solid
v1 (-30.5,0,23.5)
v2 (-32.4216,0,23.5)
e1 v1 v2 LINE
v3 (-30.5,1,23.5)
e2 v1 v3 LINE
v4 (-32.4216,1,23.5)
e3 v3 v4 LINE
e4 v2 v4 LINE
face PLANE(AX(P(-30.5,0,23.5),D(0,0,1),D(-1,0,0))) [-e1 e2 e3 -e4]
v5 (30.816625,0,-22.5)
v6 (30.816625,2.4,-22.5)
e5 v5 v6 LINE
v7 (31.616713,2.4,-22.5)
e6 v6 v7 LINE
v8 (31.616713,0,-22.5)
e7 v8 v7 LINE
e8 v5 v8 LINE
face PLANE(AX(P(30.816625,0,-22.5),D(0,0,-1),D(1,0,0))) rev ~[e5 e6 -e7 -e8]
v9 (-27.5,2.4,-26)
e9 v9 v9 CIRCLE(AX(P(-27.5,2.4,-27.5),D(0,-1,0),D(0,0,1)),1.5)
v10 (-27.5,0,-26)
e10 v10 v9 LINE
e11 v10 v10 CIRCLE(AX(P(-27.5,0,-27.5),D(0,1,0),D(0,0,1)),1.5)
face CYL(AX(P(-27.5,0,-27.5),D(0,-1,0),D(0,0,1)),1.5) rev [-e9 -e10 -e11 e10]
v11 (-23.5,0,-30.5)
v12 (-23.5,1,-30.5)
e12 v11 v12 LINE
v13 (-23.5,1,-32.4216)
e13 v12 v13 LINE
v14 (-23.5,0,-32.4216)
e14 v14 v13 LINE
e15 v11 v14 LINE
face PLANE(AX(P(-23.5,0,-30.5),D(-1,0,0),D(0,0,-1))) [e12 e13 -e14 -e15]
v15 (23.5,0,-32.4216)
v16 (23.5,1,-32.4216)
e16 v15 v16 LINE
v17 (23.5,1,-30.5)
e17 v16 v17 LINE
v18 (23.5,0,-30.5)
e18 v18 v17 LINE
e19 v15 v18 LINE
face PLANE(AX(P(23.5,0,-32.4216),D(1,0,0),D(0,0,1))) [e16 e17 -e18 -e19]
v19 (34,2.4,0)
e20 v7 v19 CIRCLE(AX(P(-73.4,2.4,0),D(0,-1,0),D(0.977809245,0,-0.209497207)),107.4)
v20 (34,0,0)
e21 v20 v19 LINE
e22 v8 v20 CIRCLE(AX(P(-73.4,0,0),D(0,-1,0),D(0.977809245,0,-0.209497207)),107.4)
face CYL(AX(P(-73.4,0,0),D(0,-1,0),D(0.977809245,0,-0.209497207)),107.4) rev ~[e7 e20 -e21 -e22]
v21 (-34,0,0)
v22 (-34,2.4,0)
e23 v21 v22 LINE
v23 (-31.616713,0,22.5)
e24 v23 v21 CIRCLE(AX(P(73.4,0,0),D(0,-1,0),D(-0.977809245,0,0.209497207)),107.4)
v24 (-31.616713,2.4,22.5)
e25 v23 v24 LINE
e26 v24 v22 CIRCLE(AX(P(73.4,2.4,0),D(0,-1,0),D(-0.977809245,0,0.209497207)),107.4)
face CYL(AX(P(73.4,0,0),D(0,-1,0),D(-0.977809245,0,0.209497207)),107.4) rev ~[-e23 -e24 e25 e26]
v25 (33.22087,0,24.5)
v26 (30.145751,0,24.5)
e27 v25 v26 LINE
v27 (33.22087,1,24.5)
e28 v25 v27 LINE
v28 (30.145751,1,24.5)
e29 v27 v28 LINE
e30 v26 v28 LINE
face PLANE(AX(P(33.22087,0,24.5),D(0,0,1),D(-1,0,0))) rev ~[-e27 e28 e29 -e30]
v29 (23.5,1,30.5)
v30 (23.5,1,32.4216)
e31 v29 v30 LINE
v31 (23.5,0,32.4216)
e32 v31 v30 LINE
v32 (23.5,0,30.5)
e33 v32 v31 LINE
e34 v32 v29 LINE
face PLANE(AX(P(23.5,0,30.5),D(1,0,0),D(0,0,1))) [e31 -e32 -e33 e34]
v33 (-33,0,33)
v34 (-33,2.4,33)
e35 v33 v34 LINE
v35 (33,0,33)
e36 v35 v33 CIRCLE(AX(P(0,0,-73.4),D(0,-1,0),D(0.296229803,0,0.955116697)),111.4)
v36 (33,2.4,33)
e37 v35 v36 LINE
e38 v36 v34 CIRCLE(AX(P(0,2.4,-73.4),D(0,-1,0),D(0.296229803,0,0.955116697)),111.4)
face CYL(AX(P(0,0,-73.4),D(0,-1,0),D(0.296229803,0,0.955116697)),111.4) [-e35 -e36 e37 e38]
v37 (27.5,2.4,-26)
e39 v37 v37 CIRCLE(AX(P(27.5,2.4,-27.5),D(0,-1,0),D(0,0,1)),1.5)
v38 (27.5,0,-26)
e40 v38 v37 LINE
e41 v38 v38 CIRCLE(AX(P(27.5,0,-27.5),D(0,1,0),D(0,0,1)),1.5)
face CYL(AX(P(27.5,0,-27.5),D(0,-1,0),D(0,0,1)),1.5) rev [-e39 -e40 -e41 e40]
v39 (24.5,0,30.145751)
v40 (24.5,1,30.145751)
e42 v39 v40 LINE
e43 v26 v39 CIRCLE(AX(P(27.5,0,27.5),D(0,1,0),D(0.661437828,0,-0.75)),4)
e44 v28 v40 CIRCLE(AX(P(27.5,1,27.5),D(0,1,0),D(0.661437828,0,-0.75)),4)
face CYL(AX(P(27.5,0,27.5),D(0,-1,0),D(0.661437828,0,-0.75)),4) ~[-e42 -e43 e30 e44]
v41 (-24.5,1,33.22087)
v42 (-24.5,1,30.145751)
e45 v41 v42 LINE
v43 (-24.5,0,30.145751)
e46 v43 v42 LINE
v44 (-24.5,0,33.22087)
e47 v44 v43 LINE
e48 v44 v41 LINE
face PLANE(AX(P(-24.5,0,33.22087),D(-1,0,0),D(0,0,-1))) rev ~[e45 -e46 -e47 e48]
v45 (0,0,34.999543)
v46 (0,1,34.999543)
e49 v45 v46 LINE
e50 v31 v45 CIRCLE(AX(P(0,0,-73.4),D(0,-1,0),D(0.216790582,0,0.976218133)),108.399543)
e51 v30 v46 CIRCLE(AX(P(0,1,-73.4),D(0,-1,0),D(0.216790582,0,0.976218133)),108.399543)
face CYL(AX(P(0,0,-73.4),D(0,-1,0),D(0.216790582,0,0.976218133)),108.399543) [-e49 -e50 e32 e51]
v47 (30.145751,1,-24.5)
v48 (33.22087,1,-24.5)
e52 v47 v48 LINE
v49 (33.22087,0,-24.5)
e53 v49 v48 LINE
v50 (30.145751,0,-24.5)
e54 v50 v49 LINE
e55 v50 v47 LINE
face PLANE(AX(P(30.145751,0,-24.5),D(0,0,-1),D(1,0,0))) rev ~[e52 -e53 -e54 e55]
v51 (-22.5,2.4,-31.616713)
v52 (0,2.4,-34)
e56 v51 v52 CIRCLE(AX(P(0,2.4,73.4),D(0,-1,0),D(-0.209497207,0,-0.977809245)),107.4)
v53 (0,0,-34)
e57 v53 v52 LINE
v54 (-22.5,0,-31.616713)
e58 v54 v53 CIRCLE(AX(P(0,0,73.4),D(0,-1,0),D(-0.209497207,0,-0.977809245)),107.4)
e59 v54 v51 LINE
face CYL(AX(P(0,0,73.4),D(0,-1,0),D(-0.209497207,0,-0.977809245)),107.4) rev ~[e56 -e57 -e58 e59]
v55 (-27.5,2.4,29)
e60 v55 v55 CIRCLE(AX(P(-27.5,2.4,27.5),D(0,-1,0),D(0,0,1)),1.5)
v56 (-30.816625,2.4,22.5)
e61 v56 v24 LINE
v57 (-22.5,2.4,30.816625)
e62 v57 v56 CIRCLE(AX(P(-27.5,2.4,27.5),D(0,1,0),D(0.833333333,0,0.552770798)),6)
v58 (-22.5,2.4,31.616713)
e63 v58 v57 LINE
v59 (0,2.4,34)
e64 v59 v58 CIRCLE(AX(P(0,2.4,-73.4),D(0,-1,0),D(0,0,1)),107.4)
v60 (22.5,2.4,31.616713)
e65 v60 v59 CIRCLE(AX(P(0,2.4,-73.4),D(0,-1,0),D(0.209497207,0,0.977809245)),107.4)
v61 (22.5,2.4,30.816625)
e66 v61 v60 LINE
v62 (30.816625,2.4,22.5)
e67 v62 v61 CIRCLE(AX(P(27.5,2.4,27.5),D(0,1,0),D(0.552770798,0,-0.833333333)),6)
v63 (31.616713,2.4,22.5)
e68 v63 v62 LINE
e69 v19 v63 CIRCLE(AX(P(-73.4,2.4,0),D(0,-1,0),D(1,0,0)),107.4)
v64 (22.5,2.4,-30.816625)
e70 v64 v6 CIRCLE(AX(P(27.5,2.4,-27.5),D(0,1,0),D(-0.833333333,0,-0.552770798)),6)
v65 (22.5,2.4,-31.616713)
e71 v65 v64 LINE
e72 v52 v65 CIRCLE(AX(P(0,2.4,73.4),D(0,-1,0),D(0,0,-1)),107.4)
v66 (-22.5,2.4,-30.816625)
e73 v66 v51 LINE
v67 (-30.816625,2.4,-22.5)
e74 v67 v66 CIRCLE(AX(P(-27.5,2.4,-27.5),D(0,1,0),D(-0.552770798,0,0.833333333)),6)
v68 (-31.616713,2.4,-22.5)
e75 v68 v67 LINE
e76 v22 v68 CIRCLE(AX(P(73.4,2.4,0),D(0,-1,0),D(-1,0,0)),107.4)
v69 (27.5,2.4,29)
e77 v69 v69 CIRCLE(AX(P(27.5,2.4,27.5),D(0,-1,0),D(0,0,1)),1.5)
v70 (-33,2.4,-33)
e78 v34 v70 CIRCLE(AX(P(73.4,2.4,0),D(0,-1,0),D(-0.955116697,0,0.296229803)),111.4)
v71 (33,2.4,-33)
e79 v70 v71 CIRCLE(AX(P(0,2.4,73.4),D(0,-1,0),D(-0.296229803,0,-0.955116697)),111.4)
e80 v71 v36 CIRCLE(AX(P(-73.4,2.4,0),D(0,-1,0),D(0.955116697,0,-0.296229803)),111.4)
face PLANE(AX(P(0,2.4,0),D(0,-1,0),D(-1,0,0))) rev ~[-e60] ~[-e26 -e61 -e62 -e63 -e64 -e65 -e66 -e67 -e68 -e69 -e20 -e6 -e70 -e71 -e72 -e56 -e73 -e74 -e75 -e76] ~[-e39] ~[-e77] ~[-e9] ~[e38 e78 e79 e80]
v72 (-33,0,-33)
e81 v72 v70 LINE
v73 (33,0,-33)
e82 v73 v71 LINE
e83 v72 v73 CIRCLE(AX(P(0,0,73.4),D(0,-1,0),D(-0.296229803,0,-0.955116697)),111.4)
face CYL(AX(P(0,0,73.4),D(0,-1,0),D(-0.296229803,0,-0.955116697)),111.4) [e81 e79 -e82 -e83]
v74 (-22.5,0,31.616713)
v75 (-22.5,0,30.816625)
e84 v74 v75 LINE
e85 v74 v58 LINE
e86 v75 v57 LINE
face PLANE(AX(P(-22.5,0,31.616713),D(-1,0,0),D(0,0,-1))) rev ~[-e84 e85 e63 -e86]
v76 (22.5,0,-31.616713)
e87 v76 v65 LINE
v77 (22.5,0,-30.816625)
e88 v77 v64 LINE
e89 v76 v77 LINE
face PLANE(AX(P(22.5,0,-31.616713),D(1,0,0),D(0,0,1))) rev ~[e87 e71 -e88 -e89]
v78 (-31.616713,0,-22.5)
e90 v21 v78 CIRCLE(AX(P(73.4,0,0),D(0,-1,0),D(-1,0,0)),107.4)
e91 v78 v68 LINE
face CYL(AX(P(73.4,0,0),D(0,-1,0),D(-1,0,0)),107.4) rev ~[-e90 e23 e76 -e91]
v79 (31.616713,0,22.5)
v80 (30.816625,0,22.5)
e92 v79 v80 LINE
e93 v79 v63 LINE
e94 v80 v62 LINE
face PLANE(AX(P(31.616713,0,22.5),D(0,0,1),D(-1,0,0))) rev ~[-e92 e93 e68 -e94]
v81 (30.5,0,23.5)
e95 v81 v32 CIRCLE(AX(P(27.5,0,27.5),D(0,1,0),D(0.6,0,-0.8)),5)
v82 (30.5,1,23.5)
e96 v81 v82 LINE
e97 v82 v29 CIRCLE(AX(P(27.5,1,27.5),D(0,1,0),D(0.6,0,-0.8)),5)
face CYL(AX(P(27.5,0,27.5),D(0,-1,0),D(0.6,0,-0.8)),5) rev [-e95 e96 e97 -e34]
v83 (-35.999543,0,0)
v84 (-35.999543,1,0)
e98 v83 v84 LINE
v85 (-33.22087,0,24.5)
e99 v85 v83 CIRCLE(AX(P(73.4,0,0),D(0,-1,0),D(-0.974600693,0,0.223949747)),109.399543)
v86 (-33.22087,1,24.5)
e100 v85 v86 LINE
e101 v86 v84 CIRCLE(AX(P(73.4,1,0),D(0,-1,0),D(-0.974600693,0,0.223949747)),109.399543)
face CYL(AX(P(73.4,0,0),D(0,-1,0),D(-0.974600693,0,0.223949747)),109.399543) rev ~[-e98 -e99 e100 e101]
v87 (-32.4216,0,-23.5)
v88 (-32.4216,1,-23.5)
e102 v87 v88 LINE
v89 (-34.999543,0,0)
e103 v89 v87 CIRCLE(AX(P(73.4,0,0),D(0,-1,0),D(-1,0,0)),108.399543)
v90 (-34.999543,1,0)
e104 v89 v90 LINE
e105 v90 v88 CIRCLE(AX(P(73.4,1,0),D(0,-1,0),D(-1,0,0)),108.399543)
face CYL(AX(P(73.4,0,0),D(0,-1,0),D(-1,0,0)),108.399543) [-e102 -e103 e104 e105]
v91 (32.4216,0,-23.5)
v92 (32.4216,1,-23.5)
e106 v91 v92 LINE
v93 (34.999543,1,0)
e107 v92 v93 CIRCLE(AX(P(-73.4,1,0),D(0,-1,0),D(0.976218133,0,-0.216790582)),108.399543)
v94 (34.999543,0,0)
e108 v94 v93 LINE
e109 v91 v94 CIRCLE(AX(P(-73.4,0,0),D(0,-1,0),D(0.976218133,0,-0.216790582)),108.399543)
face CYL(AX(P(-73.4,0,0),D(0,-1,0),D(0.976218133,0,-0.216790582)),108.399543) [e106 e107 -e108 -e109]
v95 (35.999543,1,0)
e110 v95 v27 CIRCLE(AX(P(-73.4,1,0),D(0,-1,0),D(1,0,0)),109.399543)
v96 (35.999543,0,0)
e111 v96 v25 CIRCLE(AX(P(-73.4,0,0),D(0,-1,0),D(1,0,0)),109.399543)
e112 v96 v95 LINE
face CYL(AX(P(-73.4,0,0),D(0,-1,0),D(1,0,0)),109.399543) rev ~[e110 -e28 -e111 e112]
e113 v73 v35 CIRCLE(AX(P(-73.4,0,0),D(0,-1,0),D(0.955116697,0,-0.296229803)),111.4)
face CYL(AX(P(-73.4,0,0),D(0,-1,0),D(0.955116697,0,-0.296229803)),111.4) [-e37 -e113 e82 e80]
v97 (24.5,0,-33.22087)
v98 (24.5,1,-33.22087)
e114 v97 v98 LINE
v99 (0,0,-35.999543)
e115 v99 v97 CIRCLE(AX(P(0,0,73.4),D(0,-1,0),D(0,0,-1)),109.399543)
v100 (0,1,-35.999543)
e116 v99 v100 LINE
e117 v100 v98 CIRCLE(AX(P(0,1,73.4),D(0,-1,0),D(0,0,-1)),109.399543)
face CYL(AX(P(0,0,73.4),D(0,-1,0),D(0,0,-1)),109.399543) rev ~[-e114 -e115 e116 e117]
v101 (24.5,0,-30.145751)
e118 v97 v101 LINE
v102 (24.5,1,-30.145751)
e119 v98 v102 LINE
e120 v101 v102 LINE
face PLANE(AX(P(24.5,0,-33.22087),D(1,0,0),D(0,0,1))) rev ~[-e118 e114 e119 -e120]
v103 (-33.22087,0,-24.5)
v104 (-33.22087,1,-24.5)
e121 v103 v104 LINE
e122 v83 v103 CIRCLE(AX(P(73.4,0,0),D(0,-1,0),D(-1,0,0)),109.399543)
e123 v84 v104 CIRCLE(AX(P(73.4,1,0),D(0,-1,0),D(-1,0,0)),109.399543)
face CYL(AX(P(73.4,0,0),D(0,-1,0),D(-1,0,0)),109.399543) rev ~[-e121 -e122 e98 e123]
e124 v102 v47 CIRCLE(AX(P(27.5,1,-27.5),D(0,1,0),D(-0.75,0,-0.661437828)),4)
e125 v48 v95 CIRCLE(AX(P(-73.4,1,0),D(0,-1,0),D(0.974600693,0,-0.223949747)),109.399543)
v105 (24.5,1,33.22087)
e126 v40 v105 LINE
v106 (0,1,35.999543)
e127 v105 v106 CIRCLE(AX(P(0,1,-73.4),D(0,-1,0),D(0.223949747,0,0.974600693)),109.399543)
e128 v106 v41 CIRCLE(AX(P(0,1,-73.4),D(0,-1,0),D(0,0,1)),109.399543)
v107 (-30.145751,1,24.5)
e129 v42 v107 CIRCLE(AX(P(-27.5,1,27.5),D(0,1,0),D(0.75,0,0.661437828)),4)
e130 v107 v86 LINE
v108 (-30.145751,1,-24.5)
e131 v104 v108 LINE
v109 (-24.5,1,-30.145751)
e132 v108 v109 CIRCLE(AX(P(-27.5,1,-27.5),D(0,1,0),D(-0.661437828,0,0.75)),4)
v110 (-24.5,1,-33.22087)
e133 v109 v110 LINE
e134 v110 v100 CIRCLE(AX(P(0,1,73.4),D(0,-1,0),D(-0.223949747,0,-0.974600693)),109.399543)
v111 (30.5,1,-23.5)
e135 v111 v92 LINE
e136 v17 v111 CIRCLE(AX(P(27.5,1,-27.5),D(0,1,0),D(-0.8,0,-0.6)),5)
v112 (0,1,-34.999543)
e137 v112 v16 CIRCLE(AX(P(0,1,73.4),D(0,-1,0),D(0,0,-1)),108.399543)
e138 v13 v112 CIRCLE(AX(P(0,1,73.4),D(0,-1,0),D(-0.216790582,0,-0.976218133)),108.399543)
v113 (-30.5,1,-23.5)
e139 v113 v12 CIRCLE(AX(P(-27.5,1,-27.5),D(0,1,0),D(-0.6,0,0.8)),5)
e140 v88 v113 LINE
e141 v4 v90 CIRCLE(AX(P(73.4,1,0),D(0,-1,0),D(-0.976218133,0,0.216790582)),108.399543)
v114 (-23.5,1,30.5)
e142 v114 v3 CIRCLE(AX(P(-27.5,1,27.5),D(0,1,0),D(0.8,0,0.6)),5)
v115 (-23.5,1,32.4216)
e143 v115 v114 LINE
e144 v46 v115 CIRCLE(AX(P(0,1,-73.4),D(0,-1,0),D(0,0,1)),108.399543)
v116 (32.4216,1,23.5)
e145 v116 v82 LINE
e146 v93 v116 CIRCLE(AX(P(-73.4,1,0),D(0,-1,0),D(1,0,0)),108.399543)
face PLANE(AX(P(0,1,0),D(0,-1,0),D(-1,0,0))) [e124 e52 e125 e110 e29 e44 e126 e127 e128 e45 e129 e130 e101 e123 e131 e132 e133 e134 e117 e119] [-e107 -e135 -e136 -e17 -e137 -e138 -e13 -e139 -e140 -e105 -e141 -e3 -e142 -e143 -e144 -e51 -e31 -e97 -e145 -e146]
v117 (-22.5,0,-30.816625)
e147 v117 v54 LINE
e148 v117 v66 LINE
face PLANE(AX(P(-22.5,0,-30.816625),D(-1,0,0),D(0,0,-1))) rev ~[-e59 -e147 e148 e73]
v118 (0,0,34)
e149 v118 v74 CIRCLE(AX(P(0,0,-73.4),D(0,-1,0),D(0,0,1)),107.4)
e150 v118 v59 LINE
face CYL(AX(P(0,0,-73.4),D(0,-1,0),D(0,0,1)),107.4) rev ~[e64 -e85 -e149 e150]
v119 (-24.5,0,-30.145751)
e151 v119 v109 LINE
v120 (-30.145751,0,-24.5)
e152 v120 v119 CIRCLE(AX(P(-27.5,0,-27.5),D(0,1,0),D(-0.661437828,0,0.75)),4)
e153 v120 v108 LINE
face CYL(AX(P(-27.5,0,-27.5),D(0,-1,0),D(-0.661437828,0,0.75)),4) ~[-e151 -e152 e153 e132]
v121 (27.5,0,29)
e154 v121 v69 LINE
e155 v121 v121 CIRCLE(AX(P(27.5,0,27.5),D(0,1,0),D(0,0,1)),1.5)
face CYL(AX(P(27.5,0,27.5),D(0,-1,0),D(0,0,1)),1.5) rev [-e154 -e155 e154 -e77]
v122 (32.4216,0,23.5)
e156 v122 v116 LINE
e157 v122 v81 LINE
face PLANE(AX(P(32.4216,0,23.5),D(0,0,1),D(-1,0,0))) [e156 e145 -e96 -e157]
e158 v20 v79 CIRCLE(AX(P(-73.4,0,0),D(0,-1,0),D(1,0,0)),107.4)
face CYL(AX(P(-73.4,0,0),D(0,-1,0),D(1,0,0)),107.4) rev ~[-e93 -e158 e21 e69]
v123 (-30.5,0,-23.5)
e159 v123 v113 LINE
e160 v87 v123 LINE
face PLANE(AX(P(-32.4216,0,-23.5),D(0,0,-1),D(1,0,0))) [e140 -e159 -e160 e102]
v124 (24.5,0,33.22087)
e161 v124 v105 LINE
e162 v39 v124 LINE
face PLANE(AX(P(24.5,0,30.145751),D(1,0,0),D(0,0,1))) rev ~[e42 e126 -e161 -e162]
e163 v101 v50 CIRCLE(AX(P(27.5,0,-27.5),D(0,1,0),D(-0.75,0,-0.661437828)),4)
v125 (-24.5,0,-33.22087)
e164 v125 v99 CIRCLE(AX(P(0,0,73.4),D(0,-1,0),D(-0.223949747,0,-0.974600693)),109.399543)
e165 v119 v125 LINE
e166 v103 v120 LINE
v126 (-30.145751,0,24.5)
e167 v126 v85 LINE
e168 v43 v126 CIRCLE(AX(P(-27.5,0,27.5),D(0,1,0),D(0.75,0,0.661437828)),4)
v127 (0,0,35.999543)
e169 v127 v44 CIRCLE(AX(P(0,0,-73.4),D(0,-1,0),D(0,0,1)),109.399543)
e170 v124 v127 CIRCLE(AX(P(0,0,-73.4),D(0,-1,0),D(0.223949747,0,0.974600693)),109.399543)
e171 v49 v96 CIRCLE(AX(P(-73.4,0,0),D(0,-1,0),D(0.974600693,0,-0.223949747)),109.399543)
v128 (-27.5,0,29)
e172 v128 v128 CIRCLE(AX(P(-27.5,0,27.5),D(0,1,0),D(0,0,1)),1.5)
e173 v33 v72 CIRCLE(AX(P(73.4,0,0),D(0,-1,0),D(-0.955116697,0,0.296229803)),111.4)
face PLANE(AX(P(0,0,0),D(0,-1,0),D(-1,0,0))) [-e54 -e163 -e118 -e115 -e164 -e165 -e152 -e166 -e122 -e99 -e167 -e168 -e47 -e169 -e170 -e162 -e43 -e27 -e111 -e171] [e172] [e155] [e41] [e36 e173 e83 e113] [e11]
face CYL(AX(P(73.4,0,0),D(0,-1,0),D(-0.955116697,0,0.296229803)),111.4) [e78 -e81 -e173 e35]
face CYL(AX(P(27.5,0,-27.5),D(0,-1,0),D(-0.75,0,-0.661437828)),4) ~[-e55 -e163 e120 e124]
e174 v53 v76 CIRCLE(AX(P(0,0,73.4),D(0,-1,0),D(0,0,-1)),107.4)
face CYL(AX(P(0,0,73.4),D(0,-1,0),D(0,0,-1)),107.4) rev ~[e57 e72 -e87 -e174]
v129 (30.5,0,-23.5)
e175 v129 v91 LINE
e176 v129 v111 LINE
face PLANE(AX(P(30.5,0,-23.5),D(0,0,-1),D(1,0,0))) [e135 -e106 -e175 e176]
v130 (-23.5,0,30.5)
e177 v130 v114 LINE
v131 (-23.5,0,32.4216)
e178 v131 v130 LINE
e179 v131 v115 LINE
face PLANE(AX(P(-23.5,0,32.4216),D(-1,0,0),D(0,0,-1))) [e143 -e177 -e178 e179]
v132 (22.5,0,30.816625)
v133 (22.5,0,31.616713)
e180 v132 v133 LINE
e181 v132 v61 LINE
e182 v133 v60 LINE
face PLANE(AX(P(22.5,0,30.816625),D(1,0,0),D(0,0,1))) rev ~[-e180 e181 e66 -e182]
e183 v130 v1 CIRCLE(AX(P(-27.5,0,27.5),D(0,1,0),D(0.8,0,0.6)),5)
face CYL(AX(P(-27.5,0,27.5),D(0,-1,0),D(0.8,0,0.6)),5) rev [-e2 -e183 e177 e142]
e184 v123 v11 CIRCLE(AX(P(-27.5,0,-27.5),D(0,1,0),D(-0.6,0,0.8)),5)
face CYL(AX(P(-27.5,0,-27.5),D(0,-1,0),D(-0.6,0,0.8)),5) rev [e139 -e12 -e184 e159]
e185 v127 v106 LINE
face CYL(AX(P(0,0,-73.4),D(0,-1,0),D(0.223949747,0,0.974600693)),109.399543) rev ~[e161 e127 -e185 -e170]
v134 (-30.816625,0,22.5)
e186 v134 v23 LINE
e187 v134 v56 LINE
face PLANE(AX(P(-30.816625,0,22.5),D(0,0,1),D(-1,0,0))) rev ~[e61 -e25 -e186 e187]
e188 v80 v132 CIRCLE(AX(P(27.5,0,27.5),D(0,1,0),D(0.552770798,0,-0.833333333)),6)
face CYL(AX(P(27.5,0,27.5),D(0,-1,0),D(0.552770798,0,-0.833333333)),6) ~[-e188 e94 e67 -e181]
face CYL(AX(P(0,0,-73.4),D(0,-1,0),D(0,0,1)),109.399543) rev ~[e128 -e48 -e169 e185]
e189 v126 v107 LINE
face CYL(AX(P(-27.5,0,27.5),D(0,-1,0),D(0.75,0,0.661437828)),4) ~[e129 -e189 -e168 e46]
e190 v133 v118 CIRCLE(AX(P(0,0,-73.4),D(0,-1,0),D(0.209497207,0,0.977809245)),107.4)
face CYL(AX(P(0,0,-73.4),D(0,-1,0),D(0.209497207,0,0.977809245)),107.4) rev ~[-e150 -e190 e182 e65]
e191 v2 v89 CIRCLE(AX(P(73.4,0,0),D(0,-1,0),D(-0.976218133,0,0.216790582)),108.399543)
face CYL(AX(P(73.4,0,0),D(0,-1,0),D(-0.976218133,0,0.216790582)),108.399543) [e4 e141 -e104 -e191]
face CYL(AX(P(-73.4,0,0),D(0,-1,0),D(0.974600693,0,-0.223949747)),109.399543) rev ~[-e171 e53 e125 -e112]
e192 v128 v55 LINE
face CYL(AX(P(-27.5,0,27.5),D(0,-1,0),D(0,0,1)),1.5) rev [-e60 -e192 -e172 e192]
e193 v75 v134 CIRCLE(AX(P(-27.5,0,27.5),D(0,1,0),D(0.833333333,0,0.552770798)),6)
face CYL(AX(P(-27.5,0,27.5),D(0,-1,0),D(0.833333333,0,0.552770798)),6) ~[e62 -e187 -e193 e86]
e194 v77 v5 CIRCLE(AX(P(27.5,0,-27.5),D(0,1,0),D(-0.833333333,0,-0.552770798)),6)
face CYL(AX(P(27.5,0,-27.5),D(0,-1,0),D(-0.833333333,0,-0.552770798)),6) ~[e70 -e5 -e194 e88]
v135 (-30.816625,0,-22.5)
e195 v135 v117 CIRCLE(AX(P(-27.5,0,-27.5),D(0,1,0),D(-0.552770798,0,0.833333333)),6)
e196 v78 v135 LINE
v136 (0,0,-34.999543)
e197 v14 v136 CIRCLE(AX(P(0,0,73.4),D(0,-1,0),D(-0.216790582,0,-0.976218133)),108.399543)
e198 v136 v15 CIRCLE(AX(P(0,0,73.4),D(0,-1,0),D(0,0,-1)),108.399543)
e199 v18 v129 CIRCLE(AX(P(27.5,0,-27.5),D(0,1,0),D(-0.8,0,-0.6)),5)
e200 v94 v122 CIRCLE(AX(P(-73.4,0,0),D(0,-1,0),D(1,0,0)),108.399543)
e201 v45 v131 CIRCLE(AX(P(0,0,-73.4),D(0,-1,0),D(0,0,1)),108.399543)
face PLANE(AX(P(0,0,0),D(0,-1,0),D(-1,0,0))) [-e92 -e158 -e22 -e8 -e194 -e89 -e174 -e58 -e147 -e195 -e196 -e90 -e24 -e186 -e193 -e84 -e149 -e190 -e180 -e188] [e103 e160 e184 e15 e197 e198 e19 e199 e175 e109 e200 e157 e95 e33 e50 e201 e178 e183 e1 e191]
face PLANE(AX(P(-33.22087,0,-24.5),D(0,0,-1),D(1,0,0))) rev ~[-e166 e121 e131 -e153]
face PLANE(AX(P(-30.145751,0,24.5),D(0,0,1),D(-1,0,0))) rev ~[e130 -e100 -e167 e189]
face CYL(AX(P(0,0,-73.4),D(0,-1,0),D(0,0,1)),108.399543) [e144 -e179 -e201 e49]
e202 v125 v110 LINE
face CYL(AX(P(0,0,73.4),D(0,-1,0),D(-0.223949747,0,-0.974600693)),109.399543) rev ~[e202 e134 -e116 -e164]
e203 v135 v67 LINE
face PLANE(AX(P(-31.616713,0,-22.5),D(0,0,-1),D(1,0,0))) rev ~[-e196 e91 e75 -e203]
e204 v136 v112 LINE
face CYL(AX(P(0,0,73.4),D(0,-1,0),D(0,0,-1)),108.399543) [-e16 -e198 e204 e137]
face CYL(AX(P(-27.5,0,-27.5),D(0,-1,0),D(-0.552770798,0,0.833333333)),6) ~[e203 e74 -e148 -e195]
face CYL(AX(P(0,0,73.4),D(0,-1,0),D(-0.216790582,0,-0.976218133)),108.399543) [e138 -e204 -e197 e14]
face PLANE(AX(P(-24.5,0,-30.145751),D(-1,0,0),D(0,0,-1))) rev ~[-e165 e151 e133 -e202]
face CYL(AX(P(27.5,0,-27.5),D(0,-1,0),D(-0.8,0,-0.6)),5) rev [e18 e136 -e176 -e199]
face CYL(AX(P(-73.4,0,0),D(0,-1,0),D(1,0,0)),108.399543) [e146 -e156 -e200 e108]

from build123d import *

# Parameters (mm, degrees)
EXTRUDE_1_DEPTH     = 2.4
CUT_EXTRUDE_2_DEPTH = 1
SKETCH_3_R          = 1.5
CUT_EXTRUDE_3_DEPTH = 54.793679926


with BuildPart() as part:
    # 스케치1 → 보스-돌출1 (new body)
    with BuildSketch(Plane(origin=(0, 0, 0), x_dir=(1, 0, 0), z_dir=(0, 1, 0))):
        with BuildLine():
            ThreePointArc((33, -33), (0, -38), (-33, -33))
            ThreePointArc((-33, -33), (-38, 0), (-33, 33))
            ThreePointArc((-33, 33), (0, 38), (33, 33))
            ThreePointArc((33, 33), (38, 0), (33, -33))
        make_face()
        with BuildLine():
            Line((-22.5, 30.81662479), (-22.5, 31.616712956))
            ThreePointArc((-22.5, 31.616712956), (-11.312935706, 33.402516289), (0, 34))
            ThreePointArc((0, 34), (11.312935706, 33.402516289), (22.5, 31.616712956))
            Line((22.5, 31.616712956), (22.5, 30.81662479))
            ThreePointArc((22.5, 30.81662479), (23.257359313, 23.257359313), (30.81662479, 22.5))
            Line((30.81662479, 22.5), (31.616712956, 22.5))
            ThreePointArc((31.616712956, 22.5), (33.402516289, 11.312935706), (34, 0))
            ThreePointArc((34, 0), (33.402516289, -11.312935706), (31.616712956, -22.5))
            Line((31.616712956, -22.5), (30.81662479, -22.5))
            ThreePointArc((30.81662479, -22.5), (23.257359313, -23.257359313), (22.5, -30.81662479))
            Line((22.5, -30.81662479), (22.5, -31.616712956))
            ThreePointArc((22.5, -31.616712956), (11.312935706, -33.402516289), (0, -34))
            ThreePointArc((0, -34), (-11.312935706, -33.402516289), (-22.5, -31.616712956))
            Line((-22.5, -31.616712956), (-22.5, -30.81662479))
            ThreePointArc((-22.5, -30.81662479), (-23.257359313, -23.257359313), (-30.81662479, -22.5))
            Line((-30.81662479, -22.5), (-31.616712956, -22.5))
            ThreePointArc((-31.616712956, -22.5), (-33.402516289, -11.312935706), (-34, 0))
            ThreePointArc((-34, 0), (-33.402516289, 11.312935706), (-31.616712956, 22.5))
            Line((-31.616712956, 22.5), (-30.81662479, 22.5))
            ThreePointArc((-30.81662479, 22.5), (-23.257359313, 23.257359313), (-22.5, 30.81662479))
        make_face(mode=Mode.SUBTRACT)
    extrude(amount=EXTRUDE_1_DEPTH)

    # 스케치2 → 컷-돌출2 (cut)
    with BuildSketch(Plane(origin=(0, 0, 0), x_dir=(1, 0, 0), z_dir=(0, 1, 0))):
        with BuildLine():
            Line((-24.5, 30.145751311), (-24.5, 33.220870434))
            ThreePointArc((-24.5, 33.220870434), (-12.328534192, 35.302655242), (0, 35.999543016))
            ThreePointArc((0, 35.999543016), (12.328534192, 35.302655242), (24.5, 33.220870434))
            Line((24.5, 33.220870434), (24.5, 30.145751311))
            ThreePointArc((24.5, 30.145751311), (24.671572875, 24.671572875), (30.145751311, 24.5))
            Line((30.145751311, 24.5), (33.220870434, 24.5))
            ThreePointArc((33.220870434, 24.5), (35.302655242, 12.328534192), (35.999543016, 0))
            ThreePointArc((35.999543016, 0), (35.302655242, -12.328534192), (33.220870434, -24.5))
            Line((33.220870434, -24.5), (30.145751311, -24.5))
            ThreePointArc((30.145751311, -24.5), (24.671572875, -24.671572875), (24.5, -30.145751311))
            Line((24.5, -30.145751311), (24.5, -33.220870434))
            ThreePointArc((24.5, -33.220870434), (12.328534192, -35.302655242), (0, -35.999543016))
            ThreePointArc((0, -35.999543016), (-12.328534192, -35.302655242), (-24.5, -33.220870434))
            Line((-24.5, -33.220870434), (-24.5, -30.145751311))
            ThreePointArc((-24.5, -30.145751311), (-24.671572875, -24.671572875), (-30.145751311, -24.5))
            Line((-30.145751311, -24.5), (-33.220870434, -24.5))
            ThreePointArc((-33.220870434, -24.5), (-35.302655242, -12.328534192), (-35.999543016, 0))
            ThreePointArc((-35.999543016, 0), (-35.302655242, 12.328534192), (-33.220870434, 24.5))
            Line((-33.220870434, 24.5), (-30.145751311, 24.5))
            ThreePointArc((-30.145751311, 24.5), (-24.671572875, 24.671572875), (-24.5, 30.145751311))
        make_face()
        with BuildLine():
            Line((-23.5, 30.5), (-23.5, 32.421599525))
            ThreePointArc((-23.5, 32.421599525), (-11.820488491, 34.353129782), (0, 34.999543016))
            ThreePointArc((0, 34.999543016), (11.820488491, 34.353129782), (23.5, 32.421599525))
            Line((23.5, 32.421599525), (23.5, 30.5))
            ThreePointArc((23.5, 30.5), (23.964466094, 23.964466094), (30.5, 23.5))
            Line((30.5, 23.5), (32.421599525, 23.5))
            ThreePointArc((32.421599525, 23.5), (34.353129782, 11.820488491), (34.999543016, 0))
            ThreePointArc((34.999543016, 0), (34.353129782, -11.820488491), (32.421599525, -23.5))
            Line((32.421599525, -23.5), (30.5, -23.5))
            ThreePointArc((30.5, -23.5), (23.964466094, -23.964466094), (23.5, -30.5))
            Line((23.5, -30.5), (23.5, -32.421599525))
            ThreePointArc((23.5, -32.421599525), (11.820488491, -34.353129782), (0, -34.999543016))
            ThreePointArc((0, -34.999543016), (-11.820488491, -34.353129782), (-23.5, -32.421599525))
            Line((-23.5, -32.421599525), (-23.5, -30.5))
            ThreePointArc((-23.5, -30.5), (-23.964466094, -23.964466094), (-30.5, -23.5))
            Line((-30.5, -23.5), (-32.421599525, -23.5))
            ThreePointArc((-32.421599525, -23.5), (-34.353129782, -11.820488491), (-34.999543016, 0))
            ThreePointArc((-34.999543016, 0), (-34.353129782, 11.820488491), (-32.421599525, 23.5))
            Line((-32.421599525, 23.5), (-30.5, 23.5))
            ThreePointArc((-30.5, 23.5), (-23.964466094, 23.964466094), (-23.5, 30.5))
        make_face(mode=Mode.SUBTRACT)
    extrude(amount=CUT_EXTRUDE_2_DEPTH, mode=Mode.SUBTRACT)

    # 스케치3 → 컷-돌출3 (cut, through all)
    with BuildSketch(Plane(origin=(0, 0, 0), x_dir=(1, 0, 0), z_dir=(0, 1, 0))):
        with Locations(Location((-27.5, 27.5, 0), (0, 0, 270))):
            Circle(SKETCH_3_R)
        with Locations(Location((27.5, 27.5, 0), (0, 0, 270))):
            Circle(SKETCH_3_R)
        with Locations(Location((27.5, -27.5, 0), (0, 0, 270))):
            Circle(SKETCH_3_R)
        with Locations(Location((-27.5, -27.5, 0), (0, 0, 270))):
            Circle(SKETCH_3_R)
    extrude(amount=CUT_EXTRUDE_3_DEPTH, mode=Mode.SUBTRACT)


solid = part.part
